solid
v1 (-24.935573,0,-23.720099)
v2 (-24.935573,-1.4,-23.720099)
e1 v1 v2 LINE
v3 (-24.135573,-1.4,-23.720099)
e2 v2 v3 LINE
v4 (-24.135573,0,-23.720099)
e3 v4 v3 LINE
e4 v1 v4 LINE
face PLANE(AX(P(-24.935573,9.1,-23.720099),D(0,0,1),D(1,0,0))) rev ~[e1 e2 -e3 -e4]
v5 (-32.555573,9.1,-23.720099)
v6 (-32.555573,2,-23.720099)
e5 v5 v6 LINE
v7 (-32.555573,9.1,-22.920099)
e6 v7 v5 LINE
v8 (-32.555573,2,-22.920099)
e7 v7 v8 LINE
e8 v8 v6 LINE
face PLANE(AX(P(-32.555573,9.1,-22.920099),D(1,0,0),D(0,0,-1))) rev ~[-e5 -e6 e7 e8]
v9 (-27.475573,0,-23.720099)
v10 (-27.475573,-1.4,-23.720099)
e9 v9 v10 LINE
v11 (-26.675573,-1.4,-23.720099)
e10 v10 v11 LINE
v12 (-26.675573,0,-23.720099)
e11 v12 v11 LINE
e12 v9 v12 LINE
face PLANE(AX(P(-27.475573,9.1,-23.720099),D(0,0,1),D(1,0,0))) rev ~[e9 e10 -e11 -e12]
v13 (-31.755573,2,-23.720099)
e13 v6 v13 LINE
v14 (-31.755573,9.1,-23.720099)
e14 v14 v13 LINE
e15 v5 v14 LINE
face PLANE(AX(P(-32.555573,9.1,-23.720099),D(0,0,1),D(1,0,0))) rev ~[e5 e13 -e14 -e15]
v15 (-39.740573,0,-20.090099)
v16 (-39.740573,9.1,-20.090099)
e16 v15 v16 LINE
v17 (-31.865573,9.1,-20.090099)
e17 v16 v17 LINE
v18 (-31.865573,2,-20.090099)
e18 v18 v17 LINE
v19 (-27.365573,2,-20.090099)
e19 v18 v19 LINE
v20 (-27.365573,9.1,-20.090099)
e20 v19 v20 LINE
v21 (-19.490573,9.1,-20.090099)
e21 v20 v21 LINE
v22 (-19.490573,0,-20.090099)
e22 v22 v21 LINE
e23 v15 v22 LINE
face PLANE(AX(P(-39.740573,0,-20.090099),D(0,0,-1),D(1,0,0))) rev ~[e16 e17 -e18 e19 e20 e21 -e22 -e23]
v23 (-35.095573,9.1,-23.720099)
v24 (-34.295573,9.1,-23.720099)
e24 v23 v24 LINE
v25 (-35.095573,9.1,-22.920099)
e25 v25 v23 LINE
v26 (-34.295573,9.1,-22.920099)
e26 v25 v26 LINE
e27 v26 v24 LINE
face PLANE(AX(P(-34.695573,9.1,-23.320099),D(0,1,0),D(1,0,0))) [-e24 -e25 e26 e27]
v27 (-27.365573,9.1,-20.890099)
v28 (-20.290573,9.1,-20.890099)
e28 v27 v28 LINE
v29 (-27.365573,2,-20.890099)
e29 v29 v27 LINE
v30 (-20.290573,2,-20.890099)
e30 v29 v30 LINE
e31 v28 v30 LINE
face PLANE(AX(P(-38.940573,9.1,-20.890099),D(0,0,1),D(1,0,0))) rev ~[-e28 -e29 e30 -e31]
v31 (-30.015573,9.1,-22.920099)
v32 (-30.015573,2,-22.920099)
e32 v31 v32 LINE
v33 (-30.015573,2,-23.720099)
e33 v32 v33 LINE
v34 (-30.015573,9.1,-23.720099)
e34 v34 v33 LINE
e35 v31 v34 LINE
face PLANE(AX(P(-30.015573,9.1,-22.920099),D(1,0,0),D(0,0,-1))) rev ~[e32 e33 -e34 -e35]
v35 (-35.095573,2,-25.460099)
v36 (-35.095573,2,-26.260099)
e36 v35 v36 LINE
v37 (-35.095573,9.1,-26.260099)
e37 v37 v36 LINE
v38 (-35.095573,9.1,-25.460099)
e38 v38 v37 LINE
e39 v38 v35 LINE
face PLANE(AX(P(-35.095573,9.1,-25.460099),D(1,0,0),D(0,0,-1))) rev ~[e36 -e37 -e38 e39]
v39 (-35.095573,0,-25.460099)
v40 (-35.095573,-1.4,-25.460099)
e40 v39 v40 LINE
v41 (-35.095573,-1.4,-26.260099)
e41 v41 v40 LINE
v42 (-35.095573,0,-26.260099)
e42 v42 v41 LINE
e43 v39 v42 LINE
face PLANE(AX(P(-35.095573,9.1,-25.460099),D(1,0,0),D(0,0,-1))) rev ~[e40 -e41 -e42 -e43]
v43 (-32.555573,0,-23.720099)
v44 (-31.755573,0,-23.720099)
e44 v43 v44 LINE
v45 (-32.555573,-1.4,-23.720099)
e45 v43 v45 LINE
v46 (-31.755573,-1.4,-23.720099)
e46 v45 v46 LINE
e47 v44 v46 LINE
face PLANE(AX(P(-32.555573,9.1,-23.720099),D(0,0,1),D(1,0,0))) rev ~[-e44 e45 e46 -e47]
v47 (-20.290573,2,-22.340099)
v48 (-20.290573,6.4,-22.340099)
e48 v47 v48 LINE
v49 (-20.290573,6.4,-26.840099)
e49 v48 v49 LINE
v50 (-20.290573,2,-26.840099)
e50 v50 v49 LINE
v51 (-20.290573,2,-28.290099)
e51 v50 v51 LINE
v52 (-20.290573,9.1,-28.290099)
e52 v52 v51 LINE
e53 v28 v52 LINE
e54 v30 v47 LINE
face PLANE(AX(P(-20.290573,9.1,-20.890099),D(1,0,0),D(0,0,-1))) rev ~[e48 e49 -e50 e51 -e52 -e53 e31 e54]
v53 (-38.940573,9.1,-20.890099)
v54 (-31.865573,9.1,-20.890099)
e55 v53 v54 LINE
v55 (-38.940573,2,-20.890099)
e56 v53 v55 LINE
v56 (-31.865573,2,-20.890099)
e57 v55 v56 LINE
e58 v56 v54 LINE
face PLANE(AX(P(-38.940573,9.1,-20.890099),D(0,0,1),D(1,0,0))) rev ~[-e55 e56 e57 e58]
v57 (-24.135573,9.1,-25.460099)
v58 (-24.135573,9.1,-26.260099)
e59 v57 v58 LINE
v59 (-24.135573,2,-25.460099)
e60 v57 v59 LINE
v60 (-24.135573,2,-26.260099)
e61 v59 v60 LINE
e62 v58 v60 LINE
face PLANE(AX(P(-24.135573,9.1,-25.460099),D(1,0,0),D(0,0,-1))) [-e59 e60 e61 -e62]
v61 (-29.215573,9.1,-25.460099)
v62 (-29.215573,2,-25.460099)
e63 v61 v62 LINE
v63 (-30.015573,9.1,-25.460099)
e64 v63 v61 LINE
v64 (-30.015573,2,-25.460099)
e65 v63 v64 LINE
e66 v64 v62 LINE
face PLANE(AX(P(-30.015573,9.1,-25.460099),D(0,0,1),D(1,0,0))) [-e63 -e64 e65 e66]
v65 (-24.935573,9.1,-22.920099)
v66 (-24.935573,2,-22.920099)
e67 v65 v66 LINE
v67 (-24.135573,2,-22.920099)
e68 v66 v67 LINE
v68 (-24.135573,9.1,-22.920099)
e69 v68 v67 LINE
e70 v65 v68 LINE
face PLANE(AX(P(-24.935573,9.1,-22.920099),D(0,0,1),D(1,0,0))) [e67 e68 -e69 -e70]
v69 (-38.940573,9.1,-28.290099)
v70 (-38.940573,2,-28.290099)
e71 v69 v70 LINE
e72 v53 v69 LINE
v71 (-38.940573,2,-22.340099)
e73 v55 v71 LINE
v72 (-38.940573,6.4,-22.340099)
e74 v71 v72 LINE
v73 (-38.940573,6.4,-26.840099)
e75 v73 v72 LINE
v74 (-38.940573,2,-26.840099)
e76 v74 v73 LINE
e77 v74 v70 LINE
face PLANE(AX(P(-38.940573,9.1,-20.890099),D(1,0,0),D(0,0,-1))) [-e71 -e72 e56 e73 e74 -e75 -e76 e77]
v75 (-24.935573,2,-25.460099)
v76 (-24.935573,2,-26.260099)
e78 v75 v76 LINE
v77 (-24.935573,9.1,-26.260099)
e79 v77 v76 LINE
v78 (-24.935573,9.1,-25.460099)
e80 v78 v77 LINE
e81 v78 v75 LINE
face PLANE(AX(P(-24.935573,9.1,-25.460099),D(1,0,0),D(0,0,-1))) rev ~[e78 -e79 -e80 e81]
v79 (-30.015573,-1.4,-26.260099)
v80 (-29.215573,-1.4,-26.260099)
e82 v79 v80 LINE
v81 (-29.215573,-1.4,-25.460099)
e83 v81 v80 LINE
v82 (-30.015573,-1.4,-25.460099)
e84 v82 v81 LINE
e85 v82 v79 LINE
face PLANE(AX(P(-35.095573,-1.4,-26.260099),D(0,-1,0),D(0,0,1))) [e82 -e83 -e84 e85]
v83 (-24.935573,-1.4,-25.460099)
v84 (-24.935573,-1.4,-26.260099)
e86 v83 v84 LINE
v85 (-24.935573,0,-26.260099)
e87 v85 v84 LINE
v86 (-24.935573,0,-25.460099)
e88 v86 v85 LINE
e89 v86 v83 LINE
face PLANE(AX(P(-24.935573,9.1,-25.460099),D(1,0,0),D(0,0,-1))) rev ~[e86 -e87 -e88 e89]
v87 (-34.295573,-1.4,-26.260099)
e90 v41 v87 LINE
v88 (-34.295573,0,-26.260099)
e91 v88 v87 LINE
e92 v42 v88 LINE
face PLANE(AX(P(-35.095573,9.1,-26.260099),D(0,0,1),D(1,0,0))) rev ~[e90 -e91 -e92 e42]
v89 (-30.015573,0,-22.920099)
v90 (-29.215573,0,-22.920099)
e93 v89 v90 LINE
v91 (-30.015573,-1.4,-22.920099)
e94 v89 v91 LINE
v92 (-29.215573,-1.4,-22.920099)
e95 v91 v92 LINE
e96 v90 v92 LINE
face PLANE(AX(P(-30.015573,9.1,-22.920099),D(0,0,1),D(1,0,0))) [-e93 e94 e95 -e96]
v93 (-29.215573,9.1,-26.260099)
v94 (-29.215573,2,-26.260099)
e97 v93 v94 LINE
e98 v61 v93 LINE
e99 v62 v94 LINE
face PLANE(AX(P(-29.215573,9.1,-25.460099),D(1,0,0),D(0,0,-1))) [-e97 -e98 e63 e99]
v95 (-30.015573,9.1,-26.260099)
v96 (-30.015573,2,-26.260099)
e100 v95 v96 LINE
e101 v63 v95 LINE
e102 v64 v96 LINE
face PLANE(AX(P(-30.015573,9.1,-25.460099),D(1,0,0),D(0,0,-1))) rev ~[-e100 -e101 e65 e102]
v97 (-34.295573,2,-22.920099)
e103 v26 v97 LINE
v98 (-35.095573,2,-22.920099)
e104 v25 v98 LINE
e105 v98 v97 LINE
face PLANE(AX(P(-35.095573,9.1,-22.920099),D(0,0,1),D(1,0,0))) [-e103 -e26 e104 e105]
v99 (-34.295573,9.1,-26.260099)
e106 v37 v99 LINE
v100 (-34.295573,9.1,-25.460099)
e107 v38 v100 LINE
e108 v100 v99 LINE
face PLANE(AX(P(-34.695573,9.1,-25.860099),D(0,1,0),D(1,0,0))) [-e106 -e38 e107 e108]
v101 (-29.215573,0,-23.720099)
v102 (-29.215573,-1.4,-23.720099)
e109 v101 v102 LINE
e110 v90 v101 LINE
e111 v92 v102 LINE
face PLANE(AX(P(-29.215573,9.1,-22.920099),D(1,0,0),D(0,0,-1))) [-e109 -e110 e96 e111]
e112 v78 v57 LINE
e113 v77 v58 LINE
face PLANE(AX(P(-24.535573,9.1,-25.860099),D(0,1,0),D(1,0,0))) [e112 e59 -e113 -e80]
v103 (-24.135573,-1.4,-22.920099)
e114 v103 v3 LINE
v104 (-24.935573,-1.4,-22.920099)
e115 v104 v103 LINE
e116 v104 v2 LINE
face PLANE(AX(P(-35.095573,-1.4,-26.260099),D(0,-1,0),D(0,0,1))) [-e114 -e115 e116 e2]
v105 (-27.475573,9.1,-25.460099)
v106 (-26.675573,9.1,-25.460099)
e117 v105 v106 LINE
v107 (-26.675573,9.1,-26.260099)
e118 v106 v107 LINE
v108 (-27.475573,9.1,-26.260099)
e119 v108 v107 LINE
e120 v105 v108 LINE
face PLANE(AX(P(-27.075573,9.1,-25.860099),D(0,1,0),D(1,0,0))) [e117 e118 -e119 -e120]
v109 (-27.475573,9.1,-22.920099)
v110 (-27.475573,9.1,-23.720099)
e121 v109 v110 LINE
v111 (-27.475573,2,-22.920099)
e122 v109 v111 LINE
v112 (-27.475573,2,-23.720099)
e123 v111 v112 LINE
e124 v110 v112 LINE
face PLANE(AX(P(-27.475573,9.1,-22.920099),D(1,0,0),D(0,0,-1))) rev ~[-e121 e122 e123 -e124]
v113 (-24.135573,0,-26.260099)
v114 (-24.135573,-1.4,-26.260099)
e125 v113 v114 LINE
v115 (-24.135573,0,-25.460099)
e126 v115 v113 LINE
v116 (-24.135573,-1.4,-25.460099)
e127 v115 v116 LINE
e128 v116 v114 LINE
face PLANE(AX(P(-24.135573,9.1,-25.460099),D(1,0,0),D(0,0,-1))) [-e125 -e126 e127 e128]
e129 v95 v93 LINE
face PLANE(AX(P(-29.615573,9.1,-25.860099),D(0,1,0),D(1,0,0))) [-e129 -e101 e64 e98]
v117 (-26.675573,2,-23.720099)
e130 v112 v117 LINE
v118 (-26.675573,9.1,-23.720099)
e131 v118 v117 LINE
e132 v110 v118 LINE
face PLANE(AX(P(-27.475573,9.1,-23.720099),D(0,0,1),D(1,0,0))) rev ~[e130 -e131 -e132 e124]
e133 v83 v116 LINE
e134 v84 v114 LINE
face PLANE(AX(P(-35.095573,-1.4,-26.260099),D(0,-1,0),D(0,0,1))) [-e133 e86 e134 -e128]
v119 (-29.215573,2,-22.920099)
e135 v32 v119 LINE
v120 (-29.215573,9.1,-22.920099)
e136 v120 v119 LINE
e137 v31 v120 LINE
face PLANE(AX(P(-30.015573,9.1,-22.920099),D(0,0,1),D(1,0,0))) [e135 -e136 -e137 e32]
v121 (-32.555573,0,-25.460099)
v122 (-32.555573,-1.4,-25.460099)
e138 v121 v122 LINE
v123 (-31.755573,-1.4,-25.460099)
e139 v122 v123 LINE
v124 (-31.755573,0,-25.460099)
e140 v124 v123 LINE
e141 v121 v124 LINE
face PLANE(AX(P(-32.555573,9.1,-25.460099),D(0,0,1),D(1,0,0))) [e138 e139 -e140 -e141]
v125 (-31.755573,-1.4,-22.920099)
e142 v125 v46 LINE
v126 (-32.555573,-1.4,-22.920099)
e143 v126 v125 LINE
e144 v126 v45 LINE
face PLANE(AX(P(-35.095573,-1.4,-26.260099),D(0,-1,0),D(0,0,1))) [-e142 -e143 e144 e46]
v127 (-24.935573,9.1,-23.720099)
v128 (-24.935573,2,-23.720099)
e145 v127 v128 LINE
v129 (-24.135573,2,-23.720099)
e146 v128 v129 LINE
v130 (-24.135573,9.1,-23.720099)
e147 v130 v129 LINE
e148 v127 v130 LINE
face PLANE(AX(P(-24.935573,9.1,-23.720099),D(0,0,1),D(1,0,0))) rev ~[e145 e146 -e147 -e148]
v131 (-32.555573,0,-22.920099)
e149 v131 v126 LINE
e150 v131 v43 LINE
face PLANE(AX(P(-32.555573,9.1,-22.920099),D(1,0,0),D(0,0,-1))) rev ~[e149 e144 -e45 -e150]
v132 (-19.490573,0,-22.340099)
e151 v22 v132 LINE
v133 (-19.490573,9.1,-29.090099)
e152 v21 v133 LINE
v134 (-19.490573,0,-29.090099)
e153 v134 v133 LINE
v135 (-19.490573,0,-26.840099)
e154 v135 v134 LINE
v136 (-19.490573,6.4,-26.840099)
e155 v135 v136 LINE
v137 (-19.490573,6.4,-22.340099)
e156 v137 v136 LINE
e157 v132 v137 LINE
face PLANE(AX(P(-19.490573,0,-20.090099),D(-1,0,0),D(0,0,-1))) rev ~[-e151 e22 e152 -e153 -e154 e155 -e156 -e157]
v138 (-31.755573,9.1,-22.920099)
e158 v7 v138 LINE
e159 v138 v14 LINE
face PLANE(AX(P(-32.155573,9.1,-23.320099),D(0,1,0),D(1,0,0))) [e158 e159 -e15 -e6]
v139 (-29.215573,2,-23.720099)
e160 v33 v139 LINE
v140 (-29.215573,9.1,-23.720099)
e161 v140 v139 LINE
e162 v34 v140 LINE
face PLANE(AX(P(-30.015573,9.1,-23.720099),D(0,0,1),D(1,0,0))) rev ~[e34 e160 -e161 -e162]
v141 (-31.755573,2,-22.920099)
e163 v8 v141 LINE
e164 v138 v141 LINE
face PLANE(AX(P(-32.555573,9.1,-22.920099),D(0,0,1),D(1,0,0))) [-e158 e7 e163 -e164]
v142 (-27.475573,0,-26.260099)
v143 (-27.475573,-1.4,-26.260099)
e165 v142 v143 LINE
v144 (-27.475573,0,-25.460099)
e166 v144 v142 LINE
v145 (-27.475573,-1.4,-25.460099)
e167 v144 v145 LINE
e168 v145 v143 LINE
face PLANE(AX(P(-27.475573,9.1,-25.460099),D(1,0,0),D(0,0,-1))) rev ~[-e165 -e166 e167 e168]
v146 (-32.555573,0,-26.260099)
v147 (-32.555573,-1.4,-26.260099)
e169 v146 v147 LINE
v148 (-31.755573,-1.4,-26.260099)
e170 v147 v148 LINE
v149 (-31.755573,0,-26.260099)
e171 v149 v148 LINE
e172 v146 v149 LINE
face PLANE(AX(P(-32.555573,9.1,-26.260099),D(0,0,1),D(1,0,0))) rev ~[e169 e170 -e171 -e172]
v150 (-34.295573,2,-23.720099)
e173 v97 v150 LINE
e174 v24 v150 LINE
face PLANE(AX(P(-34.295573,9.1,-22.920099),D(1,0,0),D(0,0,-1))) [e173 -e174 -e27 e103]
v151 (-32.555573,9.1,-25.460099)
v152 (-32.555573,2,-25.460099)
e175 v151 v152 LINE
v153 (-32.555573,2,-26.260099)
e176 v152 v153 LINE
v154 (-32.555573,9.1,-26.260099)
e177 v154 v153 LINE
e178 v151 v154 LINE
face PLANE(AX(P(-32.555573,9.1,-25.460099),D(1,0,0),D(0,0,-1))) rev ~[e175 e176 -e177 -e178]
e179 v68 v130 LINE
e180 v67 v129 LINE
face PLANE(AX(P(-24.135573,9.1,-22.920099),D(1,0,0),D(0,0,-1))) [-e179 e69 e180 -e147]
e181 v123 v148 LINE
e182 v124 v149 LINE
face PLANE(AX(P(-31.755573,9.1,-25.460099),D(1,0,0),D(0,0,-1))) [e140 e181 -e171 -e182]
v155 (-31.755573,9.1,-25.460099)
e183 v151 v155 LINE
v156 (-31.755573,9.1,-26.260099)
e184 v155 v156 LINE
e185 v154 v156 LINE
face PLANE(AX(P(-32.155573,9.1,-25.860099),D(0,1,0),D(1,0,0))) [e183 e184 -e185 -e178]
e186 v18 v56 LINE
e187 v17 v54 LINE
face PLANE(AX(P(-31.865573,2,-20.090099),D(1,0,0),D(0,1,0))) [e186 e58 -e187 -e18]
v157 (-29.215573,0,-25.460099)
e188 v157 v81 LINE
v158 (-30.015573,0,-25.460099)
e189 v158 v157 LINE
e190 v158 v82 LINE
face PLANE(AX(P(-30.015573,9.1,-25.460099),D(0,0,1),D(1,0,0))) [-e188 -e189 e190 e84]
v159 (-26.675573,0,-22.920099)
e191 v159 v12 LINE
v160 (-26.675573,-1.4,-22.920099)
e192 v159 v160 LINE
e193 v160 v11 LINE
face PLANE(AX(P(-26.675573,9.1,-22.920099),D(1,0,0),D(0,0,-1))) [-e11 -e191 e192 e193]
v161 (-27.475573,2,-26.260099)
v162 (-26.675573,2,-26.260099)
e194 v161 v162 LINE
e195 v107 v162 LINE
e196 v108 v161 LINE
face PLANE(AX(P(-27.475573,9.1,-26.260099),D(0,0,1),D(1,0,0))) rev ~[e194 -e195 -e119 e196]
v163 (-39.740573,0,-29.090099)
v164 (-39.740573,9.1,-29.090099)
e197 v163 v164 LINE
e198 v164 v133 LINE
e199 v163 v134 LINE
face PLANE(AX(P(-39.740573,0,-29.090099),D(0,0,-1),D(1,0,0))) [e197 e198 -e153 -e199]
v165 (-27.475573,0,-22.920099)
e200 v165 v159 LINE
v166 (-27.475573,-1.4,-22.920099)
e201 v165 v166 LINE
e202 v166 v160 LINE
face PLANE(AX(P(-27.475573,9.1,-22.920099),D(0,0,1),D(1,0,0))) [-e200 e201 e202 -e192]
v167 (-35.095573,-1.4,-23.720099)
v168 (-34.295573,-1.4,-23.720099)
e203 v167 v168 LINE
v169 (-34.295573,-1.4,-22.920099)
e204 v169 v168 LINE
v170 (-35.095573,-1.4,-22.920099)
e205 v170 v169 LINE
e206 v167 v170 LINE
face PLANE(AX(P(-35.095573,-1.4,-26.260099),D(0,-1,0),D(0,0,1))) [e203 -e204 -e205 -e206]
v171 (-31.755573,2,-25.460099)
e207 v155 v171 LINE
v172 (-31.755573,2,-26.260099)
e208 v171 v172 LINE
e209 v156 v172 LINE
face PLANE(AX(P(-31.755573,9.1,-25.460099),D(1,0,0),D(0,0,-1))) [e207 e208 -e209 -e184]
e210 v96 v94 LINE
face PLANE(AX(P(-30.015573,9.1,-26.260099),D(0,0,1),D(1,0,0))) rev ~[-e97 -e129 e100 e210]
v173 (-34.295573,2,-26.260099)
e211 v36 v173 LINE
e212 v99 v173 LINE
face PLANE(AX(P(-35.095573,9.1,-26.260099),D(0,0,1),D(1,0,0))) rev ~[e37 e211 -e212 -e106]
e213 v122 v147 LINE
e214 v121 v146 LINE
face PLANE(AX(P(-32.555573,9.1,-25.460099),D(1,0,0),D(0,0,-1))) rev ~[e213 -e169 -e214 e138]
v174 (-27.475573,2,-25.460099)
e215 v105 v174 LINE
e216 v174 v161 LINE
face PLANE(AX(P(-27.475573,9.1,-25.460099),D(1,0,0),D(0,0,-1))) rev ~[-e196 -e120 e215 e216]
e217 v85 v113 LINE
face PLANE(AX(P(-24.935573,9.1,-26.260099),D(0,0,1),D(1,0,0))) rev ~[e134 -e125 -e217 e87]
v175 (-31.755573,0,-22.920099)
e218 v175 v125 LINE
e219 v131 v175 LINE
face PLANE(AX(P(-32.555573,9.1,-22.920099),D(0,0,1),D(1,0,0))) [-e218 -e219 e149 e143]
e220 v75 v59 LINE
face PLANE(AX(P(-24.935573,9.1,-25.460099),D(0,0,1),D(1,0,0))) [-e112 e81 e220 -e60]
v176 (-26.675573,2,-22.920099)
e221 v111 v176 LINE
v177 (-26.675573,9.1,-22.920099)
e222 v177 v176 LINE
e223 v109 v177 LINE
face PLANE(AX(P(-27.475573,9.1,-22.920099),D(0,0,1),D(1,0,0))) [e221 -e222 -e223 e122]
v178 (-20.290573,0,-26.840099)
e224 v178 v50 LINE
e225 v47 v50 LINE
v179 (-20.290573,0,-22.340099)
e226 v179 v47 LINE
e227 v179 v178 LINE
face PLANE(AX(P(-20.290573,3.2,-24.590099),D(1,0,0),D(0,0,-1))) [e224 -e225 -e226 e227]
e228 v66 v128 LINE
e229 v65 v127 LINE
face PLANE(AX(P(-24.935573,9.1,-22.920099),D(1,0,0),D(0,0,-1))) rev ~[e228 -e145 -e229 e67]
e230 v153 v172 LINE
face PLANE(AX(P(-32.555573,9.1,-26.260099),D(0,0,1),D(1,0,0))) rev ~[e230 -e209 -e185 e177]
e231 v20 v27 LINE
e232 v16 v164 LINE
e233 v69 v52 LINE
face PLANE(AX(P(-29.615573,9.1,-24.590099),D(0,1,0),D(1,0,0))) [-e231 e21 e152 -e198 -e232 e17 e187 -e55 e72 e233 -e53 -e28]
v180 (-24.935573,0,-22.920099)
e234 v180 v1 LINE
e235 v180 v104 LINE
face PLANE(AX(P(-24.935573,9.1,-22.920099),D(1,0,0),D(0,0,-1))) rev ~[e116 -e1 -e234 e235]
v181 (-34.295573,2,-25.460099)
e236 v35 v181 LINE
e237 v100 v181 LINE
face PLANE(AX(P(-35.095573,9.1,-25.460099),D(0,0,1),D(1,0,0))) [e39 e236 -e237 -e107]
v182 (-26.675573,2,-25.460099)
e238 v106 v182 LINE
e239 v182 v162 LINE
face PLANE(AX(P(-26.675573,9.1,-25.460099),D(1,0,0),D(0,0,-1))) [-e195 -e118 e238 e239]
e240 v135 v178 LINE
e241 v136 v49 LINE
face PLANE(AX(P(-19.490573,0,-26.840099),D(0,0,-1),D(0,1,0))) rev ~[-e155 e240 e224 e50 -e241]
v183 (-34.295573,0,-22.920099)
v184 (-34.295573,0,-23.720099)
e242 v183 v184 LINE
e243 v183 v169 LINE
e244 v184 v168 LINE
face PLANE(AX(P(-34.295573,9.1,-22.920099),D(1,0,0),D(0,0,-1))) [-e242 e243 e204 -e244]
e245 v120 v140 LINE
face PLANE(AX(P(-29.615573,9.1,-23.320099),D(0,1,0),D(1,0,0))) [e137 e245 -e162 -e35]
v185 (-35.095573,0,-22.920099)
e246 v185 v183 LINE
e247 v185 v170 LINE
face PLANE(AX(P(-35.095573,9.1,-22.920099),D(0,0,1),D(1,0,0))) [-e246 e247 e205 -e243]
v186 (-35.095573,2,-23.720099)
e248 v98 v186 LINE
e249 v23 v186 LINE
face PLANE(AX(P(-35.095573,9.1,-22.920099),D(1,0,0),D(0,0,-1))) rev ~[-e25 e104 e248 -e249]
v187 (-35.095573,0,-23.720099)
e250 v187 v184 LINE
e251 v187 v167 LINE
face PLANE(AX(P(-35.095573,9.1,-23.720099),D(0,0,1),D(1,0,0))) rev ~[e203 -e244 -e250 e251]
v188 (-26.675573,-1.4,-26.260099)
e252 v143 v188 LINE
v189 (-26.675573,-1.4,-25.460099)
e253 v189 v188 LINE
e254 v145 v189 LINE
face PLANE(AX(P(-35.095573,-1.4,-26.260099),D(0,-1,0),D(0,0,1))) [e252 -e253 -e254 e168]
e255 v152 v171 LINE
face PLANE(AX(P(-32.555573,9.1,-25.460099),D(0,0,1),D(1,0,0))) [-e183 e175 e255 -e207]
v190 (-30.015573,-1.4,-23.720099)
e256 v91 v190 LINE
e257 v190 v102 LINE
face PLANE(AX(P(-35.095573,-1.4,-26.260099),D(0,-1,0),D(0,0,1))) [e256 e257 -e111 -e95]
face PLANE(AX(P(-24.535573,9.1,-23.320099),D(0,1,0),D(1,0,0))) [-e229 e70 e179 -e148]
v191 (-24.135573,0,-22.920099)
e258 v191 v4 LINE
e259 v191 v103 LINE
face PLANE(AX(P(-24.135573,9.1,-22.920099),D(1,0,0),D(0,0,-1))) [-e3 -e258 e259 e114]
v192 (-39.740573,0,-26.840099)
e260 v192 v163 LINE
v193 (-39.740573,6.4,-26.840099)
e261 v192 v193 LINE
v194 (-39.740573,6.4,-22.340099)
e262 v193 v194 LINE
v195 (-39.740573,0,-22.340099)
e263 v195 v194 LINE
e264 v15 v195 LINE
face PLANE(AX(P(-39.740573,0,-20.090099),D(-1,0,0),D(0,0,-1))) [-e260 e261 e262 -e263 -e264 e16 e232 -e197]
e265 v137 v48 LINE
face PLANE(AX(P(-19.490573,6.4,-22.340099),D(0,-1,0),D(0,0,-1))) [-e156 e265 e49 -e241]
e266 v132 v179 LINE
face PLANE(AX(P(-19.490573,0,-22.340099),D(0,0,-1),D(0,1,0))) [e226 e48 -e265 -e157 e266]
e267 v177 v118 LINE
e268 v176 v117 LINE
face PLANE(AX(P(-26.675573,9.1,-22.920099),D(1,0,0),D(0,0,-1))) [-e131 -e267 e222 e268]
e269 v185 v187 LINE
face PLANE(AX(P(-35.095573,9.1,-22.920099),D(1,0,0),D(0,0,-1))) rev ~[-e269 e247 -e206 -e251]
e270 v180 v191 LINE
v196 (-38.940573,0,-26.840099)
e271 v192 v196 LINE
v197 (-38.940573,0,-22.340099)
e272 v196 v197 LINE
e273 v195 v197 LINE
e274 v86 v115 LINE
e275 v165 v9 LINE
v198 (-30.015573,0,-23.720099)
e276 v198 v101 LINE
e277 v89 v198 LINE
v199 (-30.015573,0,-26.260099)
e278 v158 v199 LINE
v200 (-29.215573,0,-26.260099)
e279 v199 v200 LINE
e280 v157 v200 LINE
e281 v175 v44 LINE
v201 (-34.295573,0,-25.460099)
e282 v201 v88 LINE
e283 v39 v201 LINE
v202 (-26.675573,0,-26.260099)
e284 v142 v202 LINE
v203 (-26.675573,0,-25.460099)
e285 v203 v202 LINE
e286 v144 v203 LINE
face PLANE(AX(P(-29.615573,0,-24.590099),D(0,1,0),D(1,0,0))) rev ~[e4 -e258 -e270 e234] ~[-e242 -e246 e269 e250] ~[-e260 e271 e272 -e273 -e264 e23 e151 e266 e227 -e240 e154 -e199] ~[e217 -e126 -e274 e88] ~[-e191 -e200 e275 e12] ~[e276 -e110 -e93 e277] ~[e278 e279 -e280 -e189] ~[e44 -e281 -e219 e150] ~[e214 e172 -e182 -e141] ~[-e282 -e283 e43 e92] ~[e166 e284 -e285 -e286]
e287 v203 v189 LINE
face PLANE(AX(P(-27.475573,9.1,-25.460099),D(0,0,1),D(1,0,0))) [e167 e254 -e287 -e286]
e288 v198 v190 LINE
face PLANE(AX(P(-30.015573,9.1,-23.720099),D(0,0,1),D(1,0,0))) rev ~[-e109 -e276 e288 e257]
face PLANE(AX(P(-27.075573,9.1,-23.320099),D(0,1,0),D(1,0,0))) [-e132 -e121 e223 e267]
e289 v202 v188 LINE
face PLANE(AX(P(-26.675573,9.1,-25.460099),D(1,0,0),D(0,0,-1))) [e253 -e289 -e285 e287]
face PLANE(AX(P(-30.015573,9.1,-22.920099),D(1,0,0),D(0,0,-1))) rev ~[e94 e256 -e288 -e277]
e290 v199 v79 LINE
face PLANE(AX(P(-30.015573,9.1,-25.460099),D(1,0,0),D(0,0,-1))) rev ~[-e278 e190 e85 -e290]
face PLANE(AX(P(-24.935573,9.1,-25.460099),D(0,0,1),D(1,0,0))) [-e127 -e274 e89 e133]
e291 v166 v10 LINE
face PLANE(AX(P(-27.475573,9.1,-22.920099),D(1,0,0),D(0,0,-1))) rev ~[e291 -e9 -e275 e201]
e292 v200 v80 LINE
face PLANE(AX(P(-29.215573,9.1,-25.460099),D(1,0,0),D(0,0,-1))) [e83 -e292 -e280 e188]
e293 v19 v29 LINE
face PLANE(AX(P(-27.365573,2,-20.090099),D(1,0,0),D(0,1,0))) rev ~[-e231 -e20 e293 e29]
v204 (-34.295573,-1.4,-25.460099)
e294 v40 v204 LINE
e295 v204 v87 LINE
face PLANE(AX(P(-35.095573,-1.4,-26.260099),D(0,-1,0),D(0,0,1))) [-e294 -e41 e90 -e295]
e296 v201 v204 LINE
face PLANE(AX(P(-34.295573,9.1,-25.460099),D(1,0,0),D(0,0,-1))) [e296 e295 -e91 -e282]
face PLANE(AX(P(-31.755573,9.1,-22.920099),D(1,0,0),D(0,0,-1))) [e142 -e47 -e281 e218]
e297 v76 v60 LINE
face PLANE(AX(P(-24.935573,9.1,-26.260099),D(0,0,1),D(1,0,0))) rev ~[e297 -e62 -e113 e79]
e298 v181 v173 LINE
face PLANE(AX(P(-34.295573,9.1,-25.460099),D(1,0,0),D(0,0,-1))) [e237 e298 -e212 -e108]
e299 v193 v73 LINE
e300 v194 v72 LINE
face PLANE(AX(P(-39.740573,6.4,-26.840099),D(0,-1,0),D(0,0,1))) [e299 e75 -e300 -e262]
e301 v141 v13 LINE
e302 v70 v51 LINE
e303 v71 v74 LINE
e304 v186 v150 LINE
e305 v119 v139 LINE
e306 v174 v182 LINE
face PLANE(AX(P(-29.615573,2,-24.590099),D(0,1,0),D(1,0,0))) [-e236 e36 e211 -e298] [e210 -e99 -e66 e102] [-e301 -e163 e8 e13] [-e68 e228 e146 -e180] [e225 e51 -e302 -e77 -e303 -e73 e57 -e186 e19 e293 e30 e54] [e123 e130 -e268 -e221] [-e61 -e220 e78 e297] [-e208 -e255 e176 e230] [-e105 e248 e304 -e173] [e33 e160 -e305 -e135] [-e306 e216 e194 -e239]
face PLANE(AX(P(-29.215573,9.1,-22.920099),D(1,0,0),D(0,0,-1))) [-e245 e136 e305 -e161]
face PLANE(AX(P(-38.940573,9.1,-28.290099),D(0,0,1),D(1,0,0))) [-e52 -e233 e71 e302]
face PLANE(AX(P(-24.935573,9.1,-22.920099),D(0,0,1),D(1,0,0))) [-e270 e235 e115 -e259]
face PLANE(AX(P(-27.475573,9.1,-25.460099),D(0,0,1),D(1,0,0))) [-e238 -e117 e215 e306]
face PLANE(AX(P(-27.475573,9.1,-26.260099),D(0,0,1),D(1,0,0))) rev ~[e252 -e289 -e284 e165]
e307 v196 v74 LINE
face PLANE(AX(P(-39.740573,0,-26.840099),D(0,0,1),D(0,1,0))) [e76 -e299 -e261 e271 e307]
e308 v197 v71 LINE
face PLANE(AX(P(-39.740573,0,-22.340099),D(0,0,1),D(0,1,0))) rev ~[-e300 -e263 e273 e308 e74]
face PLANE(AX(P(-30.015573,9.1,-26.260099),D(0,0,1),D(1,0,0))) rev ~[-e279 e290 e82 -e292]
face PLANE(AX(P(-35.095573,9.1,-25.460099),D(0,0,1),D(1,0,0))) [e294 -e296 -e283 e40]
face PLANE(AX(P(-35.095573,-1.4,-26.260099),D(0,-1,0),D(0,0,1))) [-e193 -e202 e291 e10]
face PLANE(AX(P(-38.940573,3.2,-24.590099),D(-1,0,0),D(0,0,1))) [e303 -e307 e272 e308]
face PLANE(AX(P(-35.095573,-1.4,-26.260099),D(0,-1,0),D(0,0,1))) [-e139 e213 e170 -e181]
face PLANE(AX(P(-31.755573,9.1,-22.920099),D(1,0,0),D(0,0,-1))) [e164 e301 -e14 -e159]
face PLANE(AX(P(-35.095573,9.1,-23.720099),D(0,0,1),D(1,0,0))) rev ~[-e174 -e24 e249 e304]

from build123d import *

# Parameters (mm, degrees)
SKETCH1_W           = 20.25
SKETCH1_H           = 9
BOSS_EXTRUDE1_DEPTH = 9.1
SKETCH2_W           = 18.65
SKETCH2_H           = 7.4
CUT_EXTRUDE1_DEPTH  = 7.1
SKETCH2_3_W         = 0.8
SKETCH2_3_H         = 0.8
BOSS_EXTRUDE2_DEPTH = 12.5
SKETCH3_W           = 4.5
SKETCH3_H           = 7.1
CUT_EXTRUDE2_DEPTH  = 2.1
SKETCH5_W           = 4.5
SKETCH5_H           = 6.4
CUT_EXTRUDE3_DEPTH  = 0.8
SKETCH6_W           = 4.5
SKETCH6_H           = 6.4
CUT_EXTRUDE4_DEPTH  = 0.8
SKETCH8_W           = 3.34
SKETCH8_H           = 2
CUT_EXTRUDE5_DEPTH  = 35.242661924


with BuildPart() as part:
    # Sketch1 → Boss-Extrude1 (new body)
    with BuildSketch(Plane(origin=(0, 0, 0), x_dir=(1, 0, 0), z_dir=(0, 1, 0))):
        with Locations((-29.615572658, 24.590099186)):
            Rectangle(SKETCH1_W, SKETCH1_H)
    extrude(amount=BOSS_EXTRUDE1_DEPTH)

    # Sketch2 → Cut-Extrude1 (cut)
    with BuildSketch(Plane(origin=(0, 9.1, 0), x_dir=(1, 0, 0), z_dir=(0, 1, 0))):
        with Locations((-29.615572658, 24.590099186)):
            Rectangle(SKETCH2_W, SKETCH2_H)
    extrude(amount=-CUT_EXTRUDE1_DEPTH, mode=Mode.SUBTRACT)

    # Sketch2<3> → Boss-Extrude2 (add)
    with BuildSketch(Plane(origin=(0, 9.1, 0), x_dir=(1, 0, 0), z_dir=(0, 1, 0))):
        with Locations((-32.155572658, 23.320099186)):
            Rectangle(SKETCH2_3_W, SKETCH2_3_H)
        with Locations((-29.615572658, 23.320099186)):
            Rectangle(SKETCH2_3_W, SKETCH2_3_H)
        with Locations((-27.075572658, 23.320099186)):
            Rectangle(SKETCH2_3_W, SKETCH2_3_H)
        with Locations((-24.535572658, 23.320099186)):
            Rectangle(SKETCH2_3_W, SKETCH2_3_H)
        with Locations((-29.615572658, 25.860099186)):
            Rectangle(SKETCH2_3_W, SKETCH2_3_H)
        with Locations((-27.075572658, 25.860099186)):
            Rectangle(SKETCH2_3_W, SKETCH2_3_H)
        with Locations((-24.535572658, 25.860099186)):
            Rectangle(SKETCH2_3_W, SKETCH2_3_H)
        with Locations((-32.155572658, 25.860099186)):
            Rectangle(SKETCH2_3_W, SKETCH2_3_H)
        with Locations((-34.695572658, 23.320099186)):
            Rectangle(SKETCH2_3_W, SKETCH2_3_H)
        with Locations((-34.695572658, 25.860099186)):
            Rectangle(SKETCH2_3_W, SKETCH2_3_H)
    extrude(amount=-BOSS_EXTRUDE2_DEPTH)

    # Sketch3 → Cut-Extrude2 (cut)
    with BuildSketch(Plane.XY.offset(-20.090099186)):
        with Locations((-29.615572658, 5.55)):
            Rectangle(SKETCH3_W, SKETCH3_H)
    extrude(amount=-CUT_EXTRUDE2_DEPTH, mode=Mode.SUBTRACT)

    # Sketch5 → Cut-Extrude3 (cut)
    with BuildSketch(Plane.ZY.offset(39.740572658)):
        with Locations((-24.590099186, 3.2)):
            Rectangle(SKETCH5_W, SKETCH5_H)
    extrude(amount=-CUT_EXTRUDE3_DEPTH, mode=Mode.SUBTRACT)

    # Sketch6 → Cut-Extrude4 (cut)
    with BuildSketch(Plane(origin=(-19.490572658, 0, 0), x_dir=(0, 0, -1), z_dir=(1, 0, 0))):
        with Locations((24.590099186, 3.2)):
            Rectangle(SKETCH6_W, SKETCH6_H)
    extrude(amount=-CUT_EXTRUDE4_DEPTH, mode=Mode.SUBTRACT)

    # Sketch8 → Cut-Extrude5 (cut, through all)
    with BuildSketch(Plane.ZY.offset(35.095572658)):
        with Locations((-24.590099186, -2.4)):
            Rectangle(SKETCH8_W, SKETCH8_H)
    extrude(amount=-CUT_EXTRUDE5_DEPTH, mode=Mode.SUBTRACT)


solid = part.part
